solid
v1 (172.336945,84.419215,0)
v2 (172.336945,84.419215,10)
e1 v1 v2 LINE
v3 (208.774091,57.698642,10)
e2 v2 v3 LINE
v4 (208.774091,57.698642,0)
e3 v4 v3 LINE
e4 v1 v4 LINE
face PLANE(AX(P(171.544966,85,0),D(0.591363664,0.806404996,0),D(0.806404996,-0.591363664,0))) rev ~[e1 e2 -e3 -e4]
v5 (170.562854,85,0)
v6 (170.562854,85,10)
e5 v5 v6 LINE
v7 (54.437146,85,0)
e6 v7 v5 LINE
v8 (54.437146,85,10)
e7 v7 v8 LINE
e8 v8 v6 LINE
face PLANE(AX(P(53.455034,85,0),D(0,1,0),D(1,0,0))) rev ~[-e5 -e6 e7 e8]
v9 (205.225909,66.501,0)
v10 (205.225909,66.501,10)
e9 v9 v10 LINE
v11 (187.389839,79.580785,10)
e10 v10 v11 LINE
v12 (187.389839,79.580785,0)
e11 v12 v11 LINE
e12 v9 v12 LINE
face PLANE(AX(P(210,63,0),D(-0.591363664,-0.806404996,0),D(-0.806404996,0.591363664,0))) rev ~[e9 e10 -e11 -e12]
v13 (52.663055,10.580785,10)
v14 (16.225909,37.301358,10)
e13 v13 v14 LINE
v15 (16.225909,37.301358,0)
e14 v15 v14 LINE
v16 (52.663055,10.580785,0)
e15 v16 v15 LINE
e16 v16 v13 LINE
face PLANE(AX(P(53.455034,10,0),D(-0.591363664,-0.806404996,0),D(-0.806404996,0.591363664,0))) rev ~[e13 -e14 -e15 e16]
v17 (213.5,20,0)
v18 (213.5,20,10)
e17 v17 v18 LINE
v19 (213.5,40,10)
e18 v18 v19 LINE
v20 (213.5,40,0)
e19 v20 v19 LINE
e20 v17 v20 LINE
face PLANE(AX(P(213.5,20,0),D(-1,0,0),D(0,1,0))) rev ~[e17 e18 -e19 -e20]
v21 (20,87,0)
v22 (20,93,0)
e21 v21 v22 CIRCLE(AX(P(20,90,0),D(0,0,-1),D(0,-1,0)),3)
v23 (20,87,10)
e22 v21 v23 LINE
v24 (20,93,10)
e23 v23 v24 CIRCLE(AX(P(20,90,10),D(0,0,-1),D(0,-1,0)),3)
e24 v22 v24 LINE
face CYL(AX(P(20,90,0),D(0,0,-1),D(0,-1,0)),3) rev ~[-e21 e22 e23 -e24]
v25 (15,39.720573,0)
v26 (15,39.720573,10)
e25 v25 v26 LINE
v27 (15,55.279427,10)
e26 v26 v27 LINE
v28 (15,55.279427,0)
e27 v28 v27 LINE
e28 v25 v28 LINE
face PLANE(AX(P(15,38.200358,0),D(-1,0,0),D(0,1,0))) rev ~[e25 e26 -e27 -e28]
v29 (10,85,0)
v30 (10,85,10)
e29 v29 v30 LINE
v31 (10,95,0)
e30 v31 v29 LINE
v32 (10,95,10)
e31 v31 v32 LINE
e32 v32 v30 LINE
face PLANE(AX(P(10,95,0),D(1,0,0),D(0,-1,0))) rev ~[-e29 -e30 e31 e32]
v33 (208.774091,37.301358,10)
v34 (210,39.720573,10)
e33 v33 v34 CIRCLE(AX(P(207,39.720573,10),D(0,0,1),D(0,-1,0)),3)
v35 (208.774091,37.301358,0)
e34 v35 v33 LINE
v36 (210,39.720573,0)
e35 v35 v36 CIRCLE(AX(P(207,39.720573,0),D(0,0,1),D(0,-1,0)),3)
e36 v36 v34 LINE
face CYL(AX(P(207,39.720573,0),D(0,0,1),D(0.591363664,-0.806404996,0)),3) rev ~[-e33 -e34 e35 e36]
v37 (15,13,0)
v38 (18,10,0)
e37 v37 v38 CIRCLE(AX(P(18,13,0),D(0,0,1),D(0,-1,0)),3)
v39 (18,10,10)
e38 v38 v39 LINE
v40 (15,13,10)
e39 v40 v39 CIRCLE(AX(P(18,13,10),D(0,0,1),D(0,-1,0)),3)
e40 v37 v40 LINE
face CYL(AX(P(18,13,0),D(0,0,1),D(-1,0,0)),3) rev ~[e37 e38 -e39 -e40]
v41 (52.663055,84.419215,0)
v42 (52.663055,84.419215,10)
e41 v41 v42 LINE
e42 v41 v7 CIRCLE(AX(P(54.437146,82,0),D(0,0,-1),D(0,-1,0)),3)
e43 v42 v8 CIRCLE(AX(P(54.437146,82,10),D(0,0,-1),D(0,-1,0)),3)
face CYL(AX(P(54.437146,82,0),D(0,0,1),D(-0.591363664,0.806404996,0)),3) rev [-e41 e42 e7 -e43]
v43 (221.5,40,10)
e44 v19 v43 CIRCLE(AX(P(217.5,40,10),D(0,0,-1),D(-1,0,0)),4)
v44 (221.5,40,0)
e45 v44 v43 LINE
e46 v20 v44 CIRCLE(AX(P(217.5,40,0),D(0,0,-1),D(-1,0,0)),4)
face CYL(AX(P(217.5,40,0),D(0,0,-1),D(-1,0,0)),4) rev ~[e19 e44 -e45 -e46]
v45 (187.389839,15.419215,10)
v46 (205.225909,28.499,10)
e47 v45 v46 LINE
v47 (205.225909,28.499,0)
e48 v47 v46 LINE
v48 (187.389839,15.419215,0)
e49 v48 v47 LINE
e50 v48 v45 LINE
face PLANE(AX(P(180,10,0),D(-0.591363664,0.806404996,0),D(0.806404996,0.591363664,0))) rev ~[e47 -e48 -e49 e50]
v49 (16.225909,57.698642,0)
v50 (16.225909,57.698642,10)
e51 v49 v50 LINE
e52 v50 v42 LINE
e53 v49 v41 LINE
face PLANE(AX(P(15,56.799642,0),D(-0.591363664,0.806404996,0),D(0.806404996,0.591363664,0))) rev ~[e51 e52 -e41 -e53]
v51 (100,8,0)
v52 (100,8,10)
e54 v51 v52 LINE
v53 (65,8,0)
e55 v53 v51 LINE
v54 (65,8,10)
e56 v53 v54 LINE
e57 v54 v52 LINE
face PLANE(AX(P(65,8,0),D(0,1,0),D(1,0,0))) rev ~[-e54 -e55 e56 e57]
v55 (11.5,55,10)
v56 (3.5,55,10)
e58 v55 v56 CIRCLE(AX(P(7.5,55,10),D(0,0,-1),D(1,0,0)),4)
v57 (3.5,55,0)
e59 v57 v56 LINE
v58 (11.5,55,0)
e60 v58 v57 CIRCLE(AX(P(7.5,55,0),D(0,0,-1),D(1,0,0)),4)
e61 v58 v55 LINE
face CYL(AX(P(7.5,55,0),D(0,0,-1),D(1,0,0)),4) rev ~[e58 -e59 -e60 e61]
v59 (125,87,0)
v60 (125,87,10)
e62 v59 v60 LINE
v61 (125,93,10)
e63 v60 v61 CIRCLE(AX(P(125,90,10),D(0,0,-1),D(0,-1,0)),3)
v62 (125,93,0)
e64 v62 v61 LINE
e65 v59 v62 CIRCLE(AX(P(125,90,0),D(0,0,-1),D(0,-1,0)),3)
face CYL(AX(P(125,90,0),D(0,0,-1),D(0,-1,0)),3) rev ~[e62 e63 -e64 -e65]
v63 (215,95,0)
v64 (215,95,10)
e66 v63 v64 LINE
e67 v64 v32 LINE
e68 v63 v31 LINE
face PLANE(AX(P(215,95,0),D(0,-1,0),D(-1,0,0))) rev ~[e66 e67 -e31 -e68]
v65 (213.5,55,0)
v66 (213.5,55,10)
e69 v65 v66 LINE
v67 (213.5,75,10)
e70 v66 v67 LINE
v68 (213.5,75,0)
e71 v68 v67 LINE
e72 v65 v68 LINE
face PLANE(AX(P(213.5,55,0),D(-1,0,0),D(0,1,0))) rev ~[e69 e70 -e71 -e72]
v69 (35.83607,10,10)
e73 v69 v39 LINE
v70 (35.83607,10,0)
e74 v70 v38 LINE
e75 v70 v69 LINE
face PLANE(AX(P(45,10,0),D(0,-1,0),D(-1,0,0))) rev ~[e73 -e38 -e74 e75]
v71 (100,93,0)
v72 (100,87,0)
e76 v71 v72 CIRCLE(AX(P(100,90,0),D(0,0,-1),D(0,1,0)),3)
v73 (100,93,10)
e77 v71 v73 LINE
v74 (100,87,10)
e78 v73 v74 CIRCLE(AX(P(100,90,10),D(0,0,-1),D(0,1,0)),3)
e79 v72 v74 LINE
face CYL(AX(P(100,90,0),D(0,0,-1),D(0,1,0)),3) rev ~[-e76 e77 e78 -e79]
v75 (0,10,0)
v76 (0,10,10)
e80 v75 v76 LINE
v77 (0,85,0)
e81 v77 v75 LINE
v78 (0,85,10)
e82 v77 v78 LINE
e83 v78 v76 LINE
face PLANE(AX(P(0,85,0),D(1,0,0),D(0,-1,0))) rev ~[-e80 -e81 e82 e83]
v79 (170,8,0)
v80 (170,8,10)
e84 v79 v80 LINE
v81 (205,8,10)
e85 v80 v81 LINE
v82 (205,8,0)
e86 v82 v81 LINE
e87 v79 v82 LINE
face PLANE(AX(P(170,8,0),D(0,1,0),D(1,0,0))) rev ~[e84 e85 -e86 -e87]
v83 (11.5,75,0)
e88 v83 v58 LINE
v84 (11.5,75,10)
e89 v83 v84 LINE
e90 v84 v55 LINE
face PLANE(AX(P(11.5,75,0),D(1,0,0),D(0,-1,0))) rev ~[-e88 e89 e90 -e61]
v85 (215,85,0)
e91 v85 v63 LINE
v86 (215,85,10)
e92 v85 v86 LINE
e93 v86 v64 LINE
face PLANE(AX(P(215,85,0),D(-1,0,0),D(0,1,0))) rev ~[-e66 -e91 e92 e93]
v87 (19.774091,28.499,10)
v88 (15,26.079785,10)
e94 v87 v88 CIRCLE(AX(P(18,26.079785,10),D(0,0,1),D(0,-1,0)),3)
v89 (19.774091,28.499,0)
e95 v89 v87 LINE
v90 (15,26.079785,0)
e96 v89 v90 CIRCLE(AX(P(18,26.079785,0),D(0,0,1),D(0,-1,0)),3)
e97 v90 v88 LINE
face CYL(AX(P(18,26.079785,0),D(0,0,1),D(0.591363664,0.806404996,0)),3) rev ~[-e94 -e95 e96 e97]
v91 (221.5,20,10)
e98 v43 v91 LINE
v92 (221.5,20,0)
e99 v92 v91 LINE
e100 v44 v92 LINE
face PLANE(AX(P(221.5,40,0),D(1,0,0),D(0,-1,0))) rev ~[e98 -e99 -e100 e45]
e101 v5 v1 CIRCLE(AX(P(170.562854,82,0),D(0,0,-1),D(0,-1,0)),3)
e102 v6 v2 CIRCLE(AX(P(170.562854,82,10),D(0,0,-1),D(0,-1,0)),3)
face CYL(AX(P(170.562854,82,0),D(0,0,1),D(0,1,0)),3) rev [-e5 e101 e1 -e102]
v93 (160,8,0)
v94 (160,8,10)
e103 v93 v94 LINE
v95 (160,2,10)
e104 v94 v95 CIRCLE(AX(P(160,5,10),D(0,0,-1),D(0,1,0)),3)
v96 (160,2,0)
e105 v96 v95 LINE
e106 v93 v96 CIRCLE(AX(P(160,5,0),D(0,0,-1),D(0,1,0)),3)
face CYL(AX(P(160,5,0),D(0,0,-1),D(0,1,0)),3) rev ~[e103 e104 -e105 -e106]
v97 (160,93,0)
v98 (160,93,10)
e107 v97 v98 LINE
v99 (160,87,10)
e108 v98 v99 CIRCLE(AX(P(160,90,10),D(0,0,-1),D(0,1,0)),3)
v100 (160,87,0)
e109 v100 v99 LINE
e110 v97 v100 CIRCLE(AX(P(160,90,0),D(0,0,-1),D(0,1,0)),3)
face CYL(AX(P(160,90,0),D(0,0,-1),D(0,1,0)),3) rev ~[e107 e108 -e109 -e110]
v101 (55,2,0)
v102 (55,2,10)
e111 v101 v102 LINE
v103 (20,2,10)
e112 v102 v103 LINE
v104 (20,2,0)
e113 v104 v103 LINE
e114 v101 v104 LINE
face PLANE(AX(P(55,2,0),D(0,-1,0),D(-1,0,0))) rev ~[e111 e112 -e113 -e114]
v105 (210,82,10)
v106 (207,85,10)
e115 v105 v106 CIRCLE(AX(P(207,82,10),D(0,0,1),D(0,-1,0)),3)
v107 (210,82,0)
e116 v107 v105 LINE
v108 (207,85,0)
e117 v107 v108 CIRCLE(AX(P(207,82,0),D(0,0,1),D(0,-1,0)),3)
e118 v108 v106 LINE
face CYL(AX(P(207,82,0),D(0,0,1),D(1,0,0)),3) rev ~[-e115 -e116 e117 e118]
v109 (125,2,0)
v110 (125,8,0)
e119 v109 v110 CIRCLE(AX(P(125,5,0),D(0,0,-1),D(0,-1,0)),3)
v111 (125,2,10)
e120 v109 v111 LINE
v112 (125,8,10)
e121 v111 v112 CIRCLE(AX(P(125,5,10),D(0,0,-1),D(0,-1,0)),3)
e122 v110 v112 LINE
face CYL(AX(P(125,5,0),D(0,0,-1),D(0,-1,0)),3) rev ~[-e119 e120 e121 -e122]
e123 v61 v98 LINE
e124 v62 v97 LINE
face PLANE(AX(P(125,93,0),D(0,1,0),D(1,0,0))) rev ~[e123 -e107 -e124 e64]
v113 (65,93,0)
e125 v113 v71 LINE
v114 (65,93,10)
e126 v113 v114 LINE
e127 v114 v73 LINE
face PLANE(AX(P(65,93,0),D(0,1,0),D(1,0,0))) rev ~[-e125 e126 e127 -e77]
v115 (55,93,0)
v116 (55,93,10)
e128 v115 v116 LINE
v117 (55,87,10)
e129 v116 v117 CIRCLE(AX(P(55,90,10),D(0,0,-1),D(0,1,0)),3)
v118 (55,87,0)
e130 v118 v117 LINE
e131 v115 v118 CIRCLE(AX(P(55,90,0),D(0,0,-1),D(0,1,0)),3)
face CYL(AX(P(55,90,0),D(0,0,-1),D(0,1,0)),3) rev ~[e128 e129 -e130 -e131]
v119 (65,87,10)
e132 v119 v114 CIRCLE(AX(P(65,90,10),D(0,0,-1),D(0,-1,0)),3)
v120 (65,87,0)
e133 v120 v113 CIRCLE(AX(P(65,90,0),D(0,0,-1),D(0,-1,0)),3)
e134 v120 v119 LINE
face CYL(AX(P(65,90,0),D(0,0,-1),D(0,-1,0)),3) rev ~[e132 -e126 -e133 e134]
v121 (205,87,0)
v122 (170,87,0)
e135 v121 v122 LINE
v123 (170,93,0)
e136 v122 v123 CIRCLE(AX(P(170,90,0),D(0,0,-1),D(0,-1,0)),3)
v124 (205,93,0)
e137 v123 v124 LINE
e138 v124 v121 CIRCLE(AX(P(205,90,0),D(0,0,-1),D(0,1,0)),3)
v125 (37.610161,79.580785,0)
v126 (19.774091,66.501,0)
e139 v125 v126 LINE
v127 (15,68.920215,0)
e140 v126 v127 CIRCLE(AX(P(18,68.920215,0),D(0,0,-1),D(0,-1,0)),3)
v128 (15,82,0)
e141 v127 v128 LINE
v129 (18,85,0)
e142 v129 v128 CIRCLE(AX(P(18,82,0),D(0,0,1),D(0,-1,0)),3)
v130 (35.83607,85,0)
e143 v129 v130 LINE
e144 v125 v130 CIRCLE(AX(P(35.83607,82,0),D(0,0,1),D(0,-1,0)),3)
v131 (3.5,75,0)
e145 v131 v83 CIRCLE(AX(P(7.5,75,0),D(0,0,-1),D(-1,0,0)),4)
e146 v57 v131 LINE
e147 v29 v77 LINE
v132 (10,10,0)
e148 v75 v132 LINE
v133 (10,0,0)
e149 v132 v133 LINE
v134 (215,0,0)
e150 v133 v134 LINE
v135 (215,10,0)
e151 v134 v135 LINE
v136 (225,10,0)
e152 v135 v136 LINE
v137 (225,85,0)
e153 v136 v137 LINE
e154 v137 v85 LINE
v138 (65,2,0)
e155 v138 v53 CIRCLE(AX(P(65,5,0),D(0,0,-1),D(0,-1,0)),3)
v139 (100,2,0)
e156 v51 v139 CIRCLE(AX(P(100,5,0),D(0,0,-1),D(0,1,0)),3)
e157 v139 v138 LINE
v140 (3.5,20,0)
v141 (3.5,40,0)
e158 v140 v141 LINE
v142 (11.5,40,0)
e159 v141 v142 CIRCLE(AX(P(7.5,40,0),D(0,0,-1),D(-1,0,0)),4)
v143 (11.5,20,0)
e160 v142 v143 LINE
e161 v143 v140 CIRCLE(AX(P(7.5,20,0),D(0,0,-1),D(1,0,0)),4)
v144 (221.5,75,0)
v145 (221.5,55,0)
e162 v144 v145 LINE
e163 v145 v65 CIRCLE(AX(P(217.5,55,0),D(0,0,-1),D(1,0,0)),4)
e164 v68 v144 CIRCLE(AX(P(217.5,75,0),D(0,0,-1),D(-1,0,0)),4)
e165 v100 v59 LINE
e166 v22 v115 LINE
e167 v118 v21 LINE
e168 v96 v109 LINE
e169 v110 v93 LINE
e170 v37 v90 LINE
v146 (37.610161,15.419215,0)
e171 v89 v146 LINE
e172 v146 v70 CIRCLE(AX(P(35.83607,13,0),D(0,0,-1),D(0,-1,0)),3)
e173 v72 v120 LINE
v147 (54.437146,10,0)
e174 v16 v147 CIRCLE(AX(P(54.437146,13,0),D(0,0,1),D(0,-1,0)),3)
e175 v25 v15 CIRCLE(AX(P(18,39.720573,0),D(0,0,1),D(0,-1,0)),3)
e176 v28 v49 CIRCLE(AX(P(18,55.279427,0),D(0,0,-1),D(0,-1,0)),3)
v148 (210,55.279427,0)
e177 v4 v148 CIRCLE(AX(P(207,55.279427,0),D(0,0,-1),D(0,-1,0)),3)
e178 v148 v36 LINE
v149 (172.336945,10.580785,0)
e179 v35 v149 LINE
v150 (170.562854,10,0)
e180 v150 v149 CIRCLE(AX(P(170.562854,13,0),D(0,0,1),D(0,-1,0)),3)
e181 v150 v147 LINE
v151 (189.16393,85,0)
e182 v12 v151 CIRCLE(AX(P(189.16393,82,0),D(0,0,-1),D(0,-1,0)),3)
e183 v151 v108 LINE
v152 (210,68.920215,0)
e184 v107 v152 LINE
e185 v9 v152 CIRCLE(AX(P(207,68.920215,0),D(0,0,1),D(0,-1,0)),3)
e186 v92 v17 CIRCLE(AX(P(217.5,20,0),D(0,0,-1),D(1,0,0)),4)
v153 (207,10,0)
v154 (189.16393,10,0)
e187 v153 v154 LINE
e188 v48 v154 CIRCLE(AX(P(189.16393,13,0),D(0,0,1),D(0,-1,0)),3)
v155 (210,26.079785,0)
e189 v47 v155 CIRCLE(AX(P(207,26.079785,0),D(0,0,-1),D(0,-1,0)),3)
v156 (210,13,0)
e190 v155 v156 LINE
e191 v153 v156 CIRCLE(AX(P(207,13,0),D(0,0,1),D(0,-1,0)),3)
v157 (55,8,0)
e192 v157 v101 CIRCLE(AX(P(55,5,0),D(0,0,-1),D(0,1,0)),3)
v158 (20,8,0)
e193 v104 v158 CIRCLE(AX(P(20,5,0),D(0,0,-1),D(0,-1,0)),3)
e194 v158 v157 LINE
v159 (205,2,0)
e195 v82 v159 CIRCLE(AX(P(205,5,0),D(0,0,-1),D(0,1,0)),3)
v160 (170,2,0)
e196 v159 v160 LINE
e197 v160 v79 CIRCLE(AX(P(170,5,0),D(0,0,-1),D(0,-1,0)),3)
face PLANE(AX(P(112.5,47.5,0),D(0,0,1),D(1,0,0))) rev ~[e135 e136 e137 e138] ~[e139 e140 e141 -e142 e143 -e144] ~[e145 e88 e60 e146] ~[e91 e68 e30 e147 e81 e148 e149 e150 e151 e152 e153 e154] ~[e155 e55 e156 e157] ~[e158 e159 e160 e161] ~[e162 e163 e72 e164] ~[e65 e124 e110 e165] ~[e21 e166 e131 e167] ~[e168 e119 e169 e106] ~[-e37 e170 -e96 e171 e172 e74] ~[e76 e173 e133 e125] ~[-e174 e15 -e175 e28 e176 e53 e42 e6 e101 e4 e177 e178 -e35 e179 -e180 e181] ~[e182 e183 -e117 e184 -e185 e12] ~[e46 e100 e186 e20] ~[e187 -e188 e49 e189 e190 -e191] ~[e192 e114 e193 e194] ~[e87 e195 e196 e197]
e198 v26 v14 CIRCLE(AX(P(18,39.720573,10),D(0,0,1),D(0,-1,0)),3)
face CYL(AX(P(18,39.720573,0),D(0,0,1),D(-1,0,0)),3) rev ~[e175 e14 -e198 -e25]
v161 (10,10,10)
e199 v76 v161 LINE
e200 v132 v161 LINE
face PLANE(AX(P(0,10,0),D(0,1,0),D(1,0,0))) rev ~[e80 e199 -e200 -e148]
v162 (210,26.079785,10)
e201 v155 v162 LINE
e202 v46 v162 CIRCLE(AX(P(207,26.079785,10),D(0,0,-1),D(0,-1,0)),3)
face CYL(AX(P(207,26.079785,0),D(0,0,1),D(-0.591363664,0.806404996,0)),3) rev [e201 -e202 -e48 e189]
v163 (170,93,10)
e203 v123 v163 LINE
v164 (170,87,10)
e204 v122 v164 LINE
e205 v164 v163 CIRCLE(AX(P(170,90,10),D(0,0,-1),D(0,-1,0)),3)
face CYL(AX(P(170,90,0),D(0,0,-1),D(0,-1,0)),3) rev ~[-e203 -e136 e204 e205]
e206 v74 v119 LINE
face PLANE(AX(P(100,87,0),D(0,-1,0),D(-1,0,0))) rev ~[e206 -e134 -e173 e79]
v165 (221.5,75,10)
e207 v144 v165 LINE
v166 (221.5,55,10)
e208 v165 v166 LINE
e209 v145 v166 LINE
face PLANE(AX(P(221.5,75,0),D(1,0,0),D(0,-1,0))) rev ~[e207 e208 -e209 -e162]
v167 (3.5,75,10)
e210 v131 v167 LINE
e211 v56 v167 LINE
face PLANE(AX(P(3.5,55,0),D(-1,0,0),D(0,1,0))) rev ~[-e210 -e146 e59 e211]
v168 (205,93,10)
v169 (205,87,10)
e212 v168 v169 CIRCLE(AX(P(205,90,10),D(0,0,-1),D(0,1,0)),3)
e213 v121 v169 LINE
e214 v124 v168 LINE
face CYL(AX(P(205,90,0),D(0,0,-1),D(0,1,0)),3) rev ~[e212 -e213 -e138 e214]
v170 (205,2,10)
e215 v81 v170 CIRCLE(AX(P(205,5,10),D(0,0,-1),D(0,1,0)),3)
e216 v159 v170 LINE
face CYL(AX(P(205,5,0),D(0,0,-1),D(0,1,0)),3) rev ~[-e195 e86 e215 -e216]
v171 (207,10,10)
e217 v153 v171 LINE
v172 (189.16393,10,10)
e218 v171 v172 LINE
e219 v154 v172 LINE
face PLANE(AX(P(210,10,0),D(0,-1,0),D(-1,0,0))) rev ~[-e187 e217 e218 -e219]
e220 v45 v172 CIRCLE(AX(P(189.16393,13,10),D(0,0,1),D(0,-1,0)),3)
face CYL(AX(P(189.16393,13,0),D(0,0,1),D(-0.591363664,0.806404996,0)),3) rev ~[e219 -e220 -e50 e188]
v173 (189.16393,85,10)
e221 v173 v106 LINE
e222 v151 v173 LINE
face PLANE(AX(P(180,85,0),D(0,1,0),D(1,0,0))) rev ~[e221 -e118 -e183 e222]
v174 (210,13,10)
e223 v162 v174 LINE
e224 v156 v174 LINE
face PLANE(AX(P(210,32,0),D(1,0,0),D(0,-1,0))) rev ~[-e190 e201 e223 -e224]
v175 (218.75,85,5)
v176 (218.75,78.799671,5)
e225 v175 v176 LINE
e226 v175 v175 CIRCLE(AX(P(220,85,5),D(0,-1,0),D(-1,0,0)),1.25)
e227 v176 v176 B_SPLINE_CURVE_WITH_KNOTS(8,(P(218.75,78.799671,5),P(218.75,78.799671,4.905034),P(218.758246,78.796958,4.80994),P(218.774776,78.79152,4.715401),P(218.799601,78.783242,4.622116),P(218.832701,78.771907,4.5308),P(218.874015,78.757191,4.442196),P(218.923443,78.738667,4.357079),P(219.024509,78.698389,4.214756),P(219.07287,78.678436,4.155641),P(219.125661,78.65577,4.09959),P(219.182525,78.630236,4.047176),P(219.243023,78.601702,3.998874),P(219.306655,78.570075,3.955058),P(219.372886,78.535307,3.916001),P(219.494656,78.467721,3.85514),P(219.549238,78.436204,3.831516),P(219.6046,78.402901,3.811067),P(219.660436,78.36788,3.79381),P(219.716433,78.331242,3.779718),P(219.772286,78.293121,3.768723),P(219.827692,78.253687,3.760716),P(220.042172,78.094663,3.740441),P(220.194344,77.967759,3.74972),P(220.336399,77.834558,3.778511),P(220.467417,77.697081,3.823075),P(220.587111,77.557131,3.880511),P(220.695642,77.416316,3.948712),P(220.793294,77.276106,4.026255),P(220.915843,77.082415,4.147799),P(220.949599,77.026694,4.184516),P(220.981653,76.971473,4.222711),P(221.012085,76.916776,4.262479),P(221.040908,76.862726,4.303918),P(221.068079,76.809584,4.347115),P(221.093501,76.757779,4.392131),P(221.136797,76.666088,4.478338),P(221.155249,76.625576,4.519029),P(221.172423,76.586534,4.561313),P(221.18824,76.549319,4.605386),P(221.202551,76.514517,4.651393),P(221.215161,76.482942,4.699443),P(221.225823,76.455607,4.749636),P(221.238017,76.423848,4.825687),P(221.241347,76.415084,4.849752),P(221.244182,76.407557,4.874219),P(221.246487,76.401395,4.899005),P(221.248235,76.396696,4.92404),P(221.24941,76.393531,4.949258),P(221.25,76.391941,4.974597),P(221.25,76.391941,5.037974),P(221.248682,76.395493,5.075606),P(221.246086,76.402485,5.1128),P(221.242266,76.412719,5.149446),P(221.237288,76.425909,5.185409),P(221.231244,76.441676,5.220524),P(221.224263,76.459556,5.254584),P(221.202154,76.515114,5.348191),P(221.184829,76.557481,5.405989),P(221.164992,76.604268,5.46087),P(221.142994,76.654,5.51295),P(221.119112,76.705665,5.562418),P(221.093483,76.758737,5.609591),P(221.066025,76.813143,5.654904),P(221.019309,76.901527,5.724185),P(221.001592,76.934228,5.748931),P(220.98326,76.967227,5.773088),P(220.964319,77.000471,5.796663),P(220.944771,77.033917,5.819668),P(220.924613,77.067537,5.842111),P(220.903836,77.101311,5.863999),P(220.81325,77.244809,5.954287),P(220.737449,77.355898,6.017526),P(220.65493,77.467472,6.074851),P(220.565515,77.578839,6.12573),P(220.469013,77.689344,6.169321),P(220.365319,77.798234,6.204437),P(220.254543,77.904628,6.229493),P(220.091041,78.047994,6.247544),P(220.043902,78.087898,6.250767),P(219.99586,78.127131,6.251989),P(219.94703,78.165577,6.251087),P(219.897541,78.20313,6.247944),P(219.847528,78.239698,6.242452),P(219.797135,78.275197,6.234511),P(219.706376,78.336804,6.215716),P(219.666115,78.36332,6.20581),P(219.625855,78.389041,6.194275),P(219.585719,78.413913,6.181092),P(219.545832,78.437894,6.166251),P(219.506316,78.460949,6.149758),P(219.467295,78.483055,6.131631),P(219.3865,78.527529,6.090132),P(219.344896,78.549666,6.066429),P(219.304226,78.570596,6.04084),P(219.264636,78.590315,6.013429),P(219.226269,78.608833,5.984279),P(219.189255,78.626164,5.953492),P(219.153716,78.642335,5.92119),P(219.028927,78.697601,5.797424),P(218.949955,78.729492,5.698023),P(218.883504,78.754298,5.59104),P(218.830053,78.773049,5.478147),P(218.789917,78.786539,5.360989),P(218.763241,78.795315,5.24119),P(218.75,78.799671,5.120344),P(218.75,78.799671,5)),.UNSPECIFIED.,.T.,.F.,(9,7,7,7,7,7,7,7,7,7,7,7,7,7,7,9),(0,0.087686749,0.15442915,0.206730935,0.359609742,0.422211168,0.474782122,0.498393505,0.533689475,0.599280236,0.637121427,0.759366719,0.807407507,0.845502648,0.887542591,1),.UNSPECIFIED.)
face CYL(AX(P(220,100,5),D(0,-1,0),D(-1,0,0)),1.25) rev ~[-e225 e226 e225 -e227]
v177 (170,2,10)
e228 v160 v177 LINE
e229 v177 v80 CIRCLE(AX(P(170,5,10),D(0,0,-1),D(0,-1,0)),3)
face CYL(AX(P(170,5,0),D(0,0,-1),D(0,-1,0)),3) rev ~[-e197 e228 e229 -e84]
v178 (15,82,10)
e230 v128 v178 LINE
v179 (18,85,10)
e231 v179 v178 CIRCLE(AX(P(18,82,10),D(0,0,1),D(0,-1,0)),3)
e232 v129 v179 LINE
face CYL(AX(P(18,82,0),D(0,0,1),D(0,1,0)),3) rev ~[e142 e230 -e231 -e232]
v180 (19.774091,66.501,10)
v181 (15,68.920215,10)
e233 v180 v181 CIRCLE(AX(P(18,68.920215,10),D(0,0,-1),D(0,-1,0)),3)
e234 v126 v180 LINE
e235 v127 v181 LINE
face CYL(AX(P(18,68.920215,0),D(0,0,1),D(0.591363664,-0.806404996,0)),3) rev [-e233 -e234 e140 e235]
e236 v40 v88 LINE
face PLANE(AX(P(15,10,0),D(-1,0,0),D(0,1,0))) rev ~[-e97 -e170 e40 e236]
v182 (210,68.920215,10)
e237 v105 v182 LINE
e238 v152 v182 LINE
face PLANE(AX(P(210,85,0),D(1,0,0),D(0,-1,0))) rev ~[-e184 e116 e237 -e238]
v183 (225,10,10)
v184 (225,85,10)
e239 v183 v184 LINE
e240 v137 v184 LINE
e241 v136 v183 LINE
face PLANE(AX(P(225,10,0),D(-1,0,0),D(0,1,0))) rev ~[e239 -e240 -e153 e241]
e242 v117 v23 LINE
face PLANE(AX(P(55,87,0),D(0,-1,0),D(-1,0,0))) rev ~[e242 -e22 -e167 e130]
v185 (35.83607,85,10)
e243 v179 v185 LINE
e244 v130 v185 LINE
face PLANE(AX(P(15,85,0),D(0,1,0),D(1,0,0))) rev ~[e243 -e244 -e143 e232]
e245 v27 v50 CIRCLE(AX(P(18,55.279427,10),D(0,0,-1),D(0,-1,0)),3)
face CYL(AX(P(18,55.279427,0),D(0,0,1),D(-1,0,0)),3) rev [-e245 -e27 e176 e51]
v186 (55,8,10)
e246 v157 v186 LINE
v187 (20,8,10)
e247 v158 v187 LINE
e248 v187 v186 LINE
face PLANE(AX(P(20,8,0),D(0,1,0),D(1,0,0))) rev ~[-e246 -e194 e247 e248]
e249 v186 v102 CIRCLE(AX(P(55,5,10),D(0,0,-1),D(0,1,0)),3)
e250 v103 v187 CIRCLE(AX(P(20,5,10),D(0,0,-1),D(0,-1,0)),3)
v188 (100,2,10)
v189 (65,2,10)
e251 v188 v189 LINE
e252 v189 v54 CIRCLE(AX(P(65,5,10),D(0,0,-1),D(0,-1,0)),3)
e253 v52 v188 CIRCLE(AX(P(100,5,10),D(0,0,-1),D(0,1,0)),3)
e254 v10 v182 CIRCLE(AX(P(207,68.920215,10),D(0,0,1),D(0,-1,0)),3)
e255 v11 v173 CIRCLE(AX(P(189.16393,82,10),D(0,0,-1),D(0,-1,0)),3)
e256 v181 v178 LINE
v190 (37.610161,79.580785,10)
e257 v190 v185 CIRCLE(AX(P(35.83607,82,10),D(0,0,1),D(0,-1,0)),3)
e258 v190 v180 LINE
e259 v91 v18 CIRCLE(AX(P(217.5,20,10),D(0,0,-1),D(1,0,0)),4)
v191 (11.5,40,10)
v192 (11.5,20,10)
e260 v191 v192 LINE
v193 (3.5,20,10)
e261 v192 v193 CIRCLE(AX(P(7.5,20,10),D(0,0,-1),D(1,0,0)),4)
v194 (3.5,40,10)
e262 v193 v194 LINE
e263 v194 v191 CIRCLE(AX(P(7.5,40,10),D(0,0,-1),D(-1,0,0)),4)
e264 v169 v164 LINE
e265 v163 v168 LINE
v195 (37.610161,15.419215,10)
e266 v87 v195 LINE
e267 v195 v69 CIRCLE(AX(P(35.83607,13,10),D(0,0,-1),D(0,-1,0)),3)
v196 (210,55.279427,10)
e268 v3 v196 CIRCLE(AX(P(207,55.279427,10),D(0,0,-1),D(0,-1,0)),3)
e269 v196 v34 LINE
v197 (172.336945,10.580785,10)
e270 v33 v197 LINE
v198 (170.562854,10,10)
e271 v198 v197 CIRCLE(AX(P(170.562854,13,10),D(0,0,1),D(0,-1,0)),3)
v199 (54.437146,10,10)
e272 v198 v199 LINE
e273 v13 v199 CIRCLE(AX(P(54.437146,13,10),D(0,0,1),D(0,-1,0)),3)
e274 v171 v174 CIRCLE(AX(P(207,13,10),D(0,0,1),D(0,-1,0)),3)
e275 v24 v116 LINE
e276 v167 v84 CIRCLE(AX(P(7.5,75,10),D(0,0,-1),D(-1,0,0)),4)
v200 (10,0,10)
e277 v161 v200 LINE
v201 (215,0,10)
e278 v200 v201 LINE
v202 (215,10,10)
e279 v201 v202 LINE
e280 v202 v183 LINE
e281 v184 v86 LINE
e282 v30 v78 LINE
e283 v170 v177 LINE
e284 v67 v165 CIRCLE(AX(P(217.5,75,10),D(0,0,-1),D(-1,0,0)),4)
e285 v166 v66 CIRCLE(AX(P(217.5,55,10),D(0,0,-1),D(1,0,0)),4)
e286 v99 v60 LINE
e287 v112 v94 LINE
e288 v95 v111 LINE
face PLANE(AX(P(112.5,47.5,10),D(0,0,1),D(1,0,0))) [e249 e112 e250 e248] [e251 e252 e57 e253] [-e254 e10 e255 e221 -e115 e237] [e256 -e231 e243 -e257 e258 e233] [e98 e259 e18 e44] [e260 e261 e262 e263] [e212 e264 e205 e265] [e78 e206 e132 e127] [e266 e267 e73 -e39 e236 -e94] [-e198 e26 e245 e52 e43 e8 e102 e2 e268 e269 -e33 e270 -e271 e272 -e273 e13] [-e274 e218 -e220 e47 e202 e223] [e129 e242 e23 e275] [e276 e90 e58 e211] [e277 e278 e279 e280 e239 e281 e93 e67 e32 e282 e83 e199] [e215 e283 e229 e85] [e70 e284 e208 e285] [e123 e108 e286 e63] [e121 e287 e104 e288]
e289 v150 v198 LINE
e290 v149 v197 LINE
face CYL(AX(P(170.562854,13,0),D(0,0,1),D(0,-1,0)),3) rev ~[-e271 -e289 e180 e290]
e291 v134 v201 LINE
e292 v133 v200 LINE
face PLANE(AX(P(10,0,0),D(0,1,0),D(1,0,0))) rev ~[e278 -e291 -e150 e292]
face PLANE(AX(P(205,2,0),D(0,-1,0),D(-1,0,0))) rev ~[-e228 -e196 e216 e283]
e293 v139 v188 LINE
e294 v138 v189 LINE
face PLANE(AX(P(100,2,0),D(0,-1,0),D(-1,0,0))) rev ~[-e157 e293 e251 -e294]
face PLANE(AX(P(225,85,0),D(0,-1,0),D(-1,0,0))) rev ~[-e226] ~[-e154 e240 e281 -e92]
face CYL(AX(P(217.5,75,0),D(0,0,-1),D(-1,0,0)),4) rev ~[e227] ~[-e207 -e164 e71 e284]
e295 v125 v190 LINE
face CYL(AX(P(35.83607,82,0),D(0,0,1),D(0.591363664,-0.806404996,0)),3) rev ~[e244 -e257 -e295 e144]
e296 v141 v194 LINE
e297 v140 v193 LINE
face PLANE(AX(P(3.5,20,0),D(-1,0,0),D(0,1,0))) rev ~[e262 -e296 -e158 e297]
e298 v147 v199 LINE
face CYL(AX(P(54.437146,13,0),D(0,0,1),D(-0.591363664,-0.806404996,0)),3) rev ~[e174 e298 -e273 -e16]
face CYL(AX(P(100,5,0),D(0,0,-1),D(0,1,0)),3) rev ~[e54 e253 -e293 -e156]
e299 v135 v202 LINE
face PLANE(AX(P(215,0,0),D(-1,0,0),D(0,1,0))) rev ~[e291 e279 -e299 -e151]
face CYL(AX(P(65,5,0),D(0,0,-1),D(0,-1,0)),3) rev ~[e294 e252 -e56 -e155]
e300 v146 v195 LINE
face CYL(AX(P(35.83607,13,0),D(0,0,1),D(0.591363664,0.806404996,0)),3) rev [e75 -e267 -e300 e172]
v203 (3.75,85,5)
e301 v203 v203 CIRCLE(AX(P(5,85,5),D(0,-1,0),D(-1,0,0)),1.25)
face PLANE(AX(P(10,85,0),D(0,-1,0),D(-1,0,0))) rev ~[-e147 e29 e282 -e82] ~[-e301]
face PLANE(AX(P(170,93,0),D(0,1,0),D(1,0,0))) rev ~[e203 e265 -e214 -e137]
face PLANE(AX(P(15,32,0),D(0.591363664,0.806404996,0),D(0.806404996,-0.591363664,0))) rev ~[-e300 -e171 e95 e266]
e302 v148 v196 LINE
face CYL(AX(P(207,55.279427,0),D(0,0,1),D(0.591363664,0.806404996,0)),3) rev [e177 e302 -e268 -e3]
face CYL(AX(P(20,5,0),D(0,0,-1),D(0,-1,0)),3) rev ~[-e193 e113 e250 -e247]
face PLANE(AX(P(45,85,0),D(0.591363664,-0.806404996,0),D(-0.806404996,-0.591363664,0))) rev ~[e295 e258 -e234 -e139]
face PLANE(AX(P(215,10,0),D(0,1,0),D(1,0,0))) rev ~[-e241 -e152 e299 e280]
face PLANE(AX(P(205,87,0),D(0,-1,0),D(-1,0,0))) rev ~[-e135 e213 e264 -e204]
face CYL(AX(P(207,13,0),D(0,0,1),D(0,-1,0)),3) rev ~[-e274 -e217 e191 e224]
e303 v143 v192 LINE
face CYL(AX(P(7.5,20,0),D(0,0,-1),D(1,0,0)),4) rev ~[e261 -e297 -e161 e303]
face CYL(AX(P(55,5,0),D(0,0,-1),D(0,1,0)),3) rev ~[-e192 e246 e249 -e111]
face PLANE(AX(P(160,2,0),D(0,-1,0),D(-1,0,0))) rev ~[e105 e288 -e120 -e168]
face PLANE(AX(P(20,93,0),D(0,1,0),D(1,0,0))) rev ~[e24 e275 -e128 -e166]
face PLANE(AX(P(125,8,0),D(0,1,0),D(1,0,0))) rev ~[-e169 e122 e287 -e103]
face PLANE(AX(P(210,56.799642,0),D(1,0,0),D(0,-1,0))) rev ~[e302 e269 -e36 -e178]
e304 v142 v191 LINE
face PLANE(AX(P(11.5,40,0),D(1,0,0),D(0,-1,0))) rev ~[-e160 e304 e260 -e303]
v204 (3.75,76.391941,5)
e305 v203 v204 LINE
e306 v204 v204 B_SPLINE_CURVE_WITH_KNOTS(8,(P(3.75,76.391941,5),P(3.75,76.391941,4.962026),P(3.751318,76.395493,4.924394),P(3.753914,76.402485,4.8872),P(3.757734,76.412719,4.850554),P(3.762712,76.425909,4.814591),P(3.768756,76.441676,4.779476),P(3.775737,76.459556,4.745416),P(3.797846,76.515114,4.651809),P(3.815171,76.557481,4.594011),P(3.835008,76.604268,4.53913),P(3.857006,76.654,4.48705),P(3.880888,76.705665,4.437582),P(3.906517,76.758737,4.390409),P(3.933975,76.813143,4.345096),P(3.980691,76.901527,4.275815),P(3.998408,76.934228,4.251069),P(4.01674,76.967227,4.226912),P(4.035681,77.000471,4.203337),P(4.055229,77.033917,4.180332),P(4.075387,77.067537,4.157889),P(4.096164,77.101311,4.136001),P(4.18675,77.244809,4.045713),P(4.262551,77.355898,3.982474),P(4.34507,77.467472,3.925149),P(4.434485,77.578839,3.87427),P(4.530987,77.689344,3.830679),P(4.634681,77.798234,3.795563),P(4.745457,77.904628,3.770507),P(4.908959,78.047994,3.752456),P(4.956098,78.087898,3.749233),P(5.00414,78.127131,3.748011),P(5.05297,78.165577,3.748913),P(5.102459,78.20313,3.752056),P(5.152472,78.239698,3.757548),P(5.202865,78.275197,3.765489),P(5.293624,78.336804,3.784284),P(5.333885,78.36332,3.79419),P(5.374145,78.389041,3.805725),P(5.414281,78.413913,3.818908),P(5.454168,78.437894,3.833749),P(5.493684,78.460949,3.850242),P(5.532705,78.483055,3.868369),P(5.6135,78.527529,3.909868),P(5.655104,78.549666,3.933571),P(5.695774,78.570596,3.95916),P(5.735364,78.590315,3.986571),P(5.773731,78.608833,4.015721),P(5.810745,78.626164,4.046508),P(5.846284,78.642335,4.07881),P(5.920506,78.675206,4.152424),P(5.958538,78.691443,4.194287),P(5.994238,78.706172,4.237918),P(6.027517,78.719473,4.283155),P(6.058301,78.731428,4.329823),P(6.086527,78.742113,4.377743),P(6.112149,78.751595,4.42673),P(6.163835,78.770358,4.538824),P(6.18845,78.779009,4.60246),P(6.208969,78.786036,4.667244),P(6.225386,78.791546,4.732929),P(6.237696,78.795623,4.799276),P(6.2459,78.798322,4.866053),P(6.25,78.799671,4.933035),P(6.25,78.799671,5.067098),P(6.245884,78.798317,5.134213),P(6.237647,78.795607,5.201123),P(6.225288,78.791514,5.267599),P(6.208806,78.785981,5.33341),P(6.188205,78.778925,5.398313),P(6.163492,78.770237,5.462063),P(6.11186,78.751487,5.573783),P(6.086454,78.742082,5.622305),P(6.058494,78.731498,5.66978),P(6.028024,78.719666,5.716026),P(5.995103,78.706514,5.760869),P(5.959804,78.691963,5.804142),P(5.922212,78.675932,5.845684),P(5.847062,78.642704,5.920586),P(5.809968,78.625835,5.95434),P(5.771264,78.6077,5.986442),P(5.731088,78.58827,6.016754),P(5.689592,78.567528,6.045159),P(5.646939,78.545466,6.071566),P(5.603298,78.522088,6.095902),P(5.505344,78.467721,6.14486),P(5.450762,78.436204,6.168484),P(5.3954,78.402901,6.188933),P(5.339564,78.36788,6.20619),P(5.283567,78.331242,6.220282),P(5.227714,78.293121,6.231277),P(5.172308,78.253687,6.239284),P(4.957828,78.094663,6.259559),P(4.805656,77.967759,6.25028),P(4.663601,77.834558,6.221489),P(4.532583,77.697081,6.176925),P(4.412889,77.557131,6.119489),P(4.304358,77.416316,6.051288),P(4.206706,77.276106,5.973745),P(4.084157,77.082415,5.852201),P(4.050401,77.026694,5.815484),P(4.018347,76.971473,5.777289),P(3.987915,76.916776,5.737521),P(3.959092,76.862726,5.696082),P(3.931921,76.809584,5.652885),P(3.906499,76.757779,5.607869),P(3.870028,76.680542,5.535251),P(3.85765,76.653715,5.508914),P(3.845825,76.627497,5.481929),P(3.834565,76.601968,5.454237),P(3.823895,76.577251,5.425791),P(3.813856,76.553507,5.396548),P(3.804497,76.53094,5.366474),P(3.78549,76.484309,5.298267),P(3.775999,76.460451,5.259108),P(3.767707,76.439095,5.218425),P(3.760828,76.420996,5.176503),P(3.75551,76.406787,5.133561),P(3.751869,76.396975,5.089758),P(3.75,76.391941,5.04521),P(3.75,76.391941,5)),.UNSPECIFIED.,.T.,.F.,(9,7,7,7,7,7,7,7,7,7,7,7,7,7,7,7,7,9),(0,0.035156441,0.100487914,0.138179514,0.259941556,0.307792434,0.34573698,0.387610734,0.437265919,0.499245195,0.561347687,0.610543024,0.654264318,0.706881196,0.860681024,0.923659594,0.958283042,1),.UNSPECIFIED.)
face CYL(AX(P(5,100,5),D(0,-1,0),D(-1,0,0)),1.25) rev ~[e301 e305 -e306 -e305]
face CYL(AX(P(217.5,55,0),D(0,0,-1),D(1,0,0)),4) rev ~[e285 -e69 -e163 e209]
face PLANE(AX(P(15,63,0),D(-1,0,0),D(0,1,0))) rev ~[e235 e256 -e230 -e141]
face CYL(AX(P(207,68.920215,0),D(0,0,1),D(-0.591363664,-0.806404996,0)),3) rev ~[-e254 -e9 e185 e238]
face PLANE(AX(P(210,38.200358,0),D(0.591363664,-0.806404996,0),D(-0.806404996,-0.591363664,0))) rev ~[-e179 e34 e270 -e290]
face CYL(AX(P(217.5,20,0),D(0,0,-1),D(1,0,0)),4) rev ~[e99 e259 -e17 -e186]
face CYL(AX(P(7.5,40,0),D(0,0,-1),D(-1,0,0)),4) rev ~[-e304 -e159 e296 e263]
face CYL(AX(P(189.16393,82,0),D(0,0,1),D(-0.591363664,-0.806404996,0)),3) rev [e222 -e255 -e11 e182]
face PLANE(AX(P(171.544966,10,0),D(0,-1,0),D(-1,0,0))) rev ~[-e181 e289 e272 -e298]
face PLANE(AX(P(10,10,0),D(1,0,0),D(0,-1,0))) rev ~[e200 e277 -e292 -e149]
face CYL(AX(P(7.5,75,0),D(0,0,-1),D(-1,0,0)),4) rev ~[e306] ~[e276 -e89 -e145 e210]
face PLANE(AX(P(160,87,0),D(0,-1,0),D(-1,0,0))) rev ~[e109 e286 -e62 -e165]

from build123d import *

# Parameters (mm, degrees)
BOSS_EXTRUDE1_DEPTH   = 10
FILLET1_R             = 3
M3_TAPPED_HOLE2_D     = 2.5
M3_TAPPED_HOLE2_DEPTH = 15
M3_TAPPED_HOLE2_TIP   = 0.751075774


with BuildPart() as part:
    # Sketch1 → Boss-Extrude1 (new body)
    with BuildSketch(Plane.XY):
        Polygon((10, 10), (10, 0), (215, 0), (215, 10), (225, 10), (225, 85), (215, 85), (215, 95), (10, 95), (10, 85), (0, 85), (0, 10), align=None)
        with BuildLine():
            Line((20, 8), (55, 8))
            ThreePointArc((55, 8), (58, 5), (55, 2))
            Line((55, 2), (20, 2))
            ThreePointArc((20, 2), (17, 5), (20, 8))
        make_face(mode=Mode.SUBTRACT)
        with BuildLine():
            Line((65, 8), (100, 8))
            ThreePointArc((100, 8), (103, 5), (100, 2))
            Line((100, 2), (65, 2))
            ThreePointArc((65, 2), (62, 5), (65, 8))
        make_face(mode=Mode.SUBTRACT)
        with BuildLine():
            Line((3.5, 20), (3.5, 40))
            ThreePointArc((3.5, 40), (7.5, 44), (11.5, 40))
            Line((11.5, 40), (11.5, 20))
            ThreePointArc((11.5, 20), (7.5, 16), (3.5, 20))
        make_face(mode=Mode.SUBTRACT)
        with BuildLine():
            ThreePointArc((160, 8), (163, 5), (160, 2))
            Line((160, 2), (125, 2))
            ThreePointArc((125, 2), (122, 5), (125, 8))
            Line((125, 8), (160, 8))
        make_face(mode=Mode.SUBTRACT)
        with BuildLine():
            ThreePointArc((205, 8), (208, 5), (205, 2))
            Line((205, 2), (170, 2))
            ThreePointArc((170, 2), (167, 5), (170, 8))
            Line((170, 8), (205, 8))
        make_face(mode=Mode.SUBTRACT)
        with BuildLine():
            Line((213.5, 20), (213.5, 40))
            ThreePointArc((213.5, 40), (217.5, 44), (221.5, 40))
            Line((221.5, 40), (221.5, 20))
            ThreePointArc((221.5, 20), (217.5, 16), (213.5, 20))
        make_face(mode=Mode.SUBTRACT)
        with BuildLine():
            Line((3.5, 55), (3.5, 75))
            ThreePointArc((3.5, 75), (7.5, 79), (11.5, 75))
            Line((11.5, 75), (11.5, 55))
            ThreePointArc((11.5, 55), (7.5, 51), (3.5, 55))
        make_face(mode=Mode.SUBTRACT)
        with BuildLine():
            Line((20, 93), (55, 93))
            ThreePointArc((55, 93), (58, 90), (55, 87))
            Line((55, 87), (20, 87))
            ThreePointArc((20, 87), (17, 90), (20, 93))
        make_face(mode=Mode.SUBTRACT)
        with BuildLine():
            Line((65, 93), (100, 93))
            ThreePointArc((100, 93), (103, 90), (100, 87))
            Line((100, 87), (65, 87))
            ThreePointArc((65, 87), (62, 90), (65, 93))
        make_face(mode=Mode.SUBTRACT)
        Polygon((15, 63), (15, 85), (45, 85), align=None, mode=Mode.SUBTRACT)
        Polygon((15, 56.799641587), (53.455034199, 85), (171.544965801, 85), (210, 56.799641587), (210, 38.200358413), (171.544965801, 10), (53.455034199, 10), (15, 38.200358413), align=None, mode=Mode.SUBTRACT)
        Polygon((210, 32), (210, 10), (180, 10), align=None, mode=Mode.SUBTRACT)
        Polygon((180, 85), (210, 85), (210, 63), align=None, mode=Mode.SUBTRACT)
        Polygon((45, 10), (15, 10), (15, 32), align=None, mode=Mode.SUBTRACT)
        with BuildLine():
            Line((213.5, 55), (213.5, 75))
            ThreePointArc((213.5, 75), (217.5, 79), (221.5, 75))
            Line((221.5, 75), (221.5, 55))
            ThreePointArc((221.5, 55), (217.5, 51), (213.5, 55))
        make_face(mode=Mode.SUBTRACT)
        with BuildLine():
            Line((125, 93), (160, 93))
            ThreePointArc((160, 93), (163, 90), (160, 87))
            Line((160, 87), (125, 87))
            ThreePointArc((125, 87), (122, 90), (125, 93))
        make_face(mode=Mode.SUBTRACT)
        with BuildLine():
            Line((170, 93), (205, 93))
            ThreePointArc((205, 93), (208, 90), (205, 87))
            Line((205, 87), (170, 87))
            ThreePointArc((170, 87), (167, 90), (170, 93))
        make_face(mode=Mode.SUBTRACT)
    extrude(amount=BOSS_EXTRUDE1_DEPTH)

    # Fillet1
    fillet1_edges = [part.edges().sort_by_distance(p)[0] for p in [
        (15, 32, 5),
        (15, 10, 5),
        (45, 10, 5),
        (180, 10, 5),
        (210, 10, 5),
        (210, 32, 5),
        (210, 63, 5),
        (210, 85, 5),
        (180, 85, 5),
        (15, 85, 5),
        (15, 63, 5),
        (45, 85, 5),
        (53.455034199, 85, 5),
        (15, 56.799641587, 5),
        (15, 38.200358413, 5),
        (53.455034199, 10, 5),
        (171.544965801, 10, 5),
        (210, 38.200358413, 5),
        (210, 56.799641587, 5),
        (171.544965801, 85, 5),
    ]]
    fillet(fillet1_edges, radius=FILLET1_R)

    # M3 Tapped Hole2
    with Locations(Plane(origin=(0, 85, 0), x_dir=(1, 0, 0), z_dir=(0, 1, 0))):
        with Locations((220, -5), (5, -5)):
            Hole(M3_TAPPED_HOLE2_D / 2, depth=M3_TAPPED_HOLE2_DEPTH)
            with Locations((0, 0, -(M3_TAPPED_HOLE2_DEPTH + M3_TAPPED_HOLE2_TIP / 2))):  # 118° drill point
                Cone(0, M3_TAPPED_HOLE2_D / 2, M3_TAPPED_HOLE2_TIP, mode=Mode.SUBTRACT)


solid = part.part
